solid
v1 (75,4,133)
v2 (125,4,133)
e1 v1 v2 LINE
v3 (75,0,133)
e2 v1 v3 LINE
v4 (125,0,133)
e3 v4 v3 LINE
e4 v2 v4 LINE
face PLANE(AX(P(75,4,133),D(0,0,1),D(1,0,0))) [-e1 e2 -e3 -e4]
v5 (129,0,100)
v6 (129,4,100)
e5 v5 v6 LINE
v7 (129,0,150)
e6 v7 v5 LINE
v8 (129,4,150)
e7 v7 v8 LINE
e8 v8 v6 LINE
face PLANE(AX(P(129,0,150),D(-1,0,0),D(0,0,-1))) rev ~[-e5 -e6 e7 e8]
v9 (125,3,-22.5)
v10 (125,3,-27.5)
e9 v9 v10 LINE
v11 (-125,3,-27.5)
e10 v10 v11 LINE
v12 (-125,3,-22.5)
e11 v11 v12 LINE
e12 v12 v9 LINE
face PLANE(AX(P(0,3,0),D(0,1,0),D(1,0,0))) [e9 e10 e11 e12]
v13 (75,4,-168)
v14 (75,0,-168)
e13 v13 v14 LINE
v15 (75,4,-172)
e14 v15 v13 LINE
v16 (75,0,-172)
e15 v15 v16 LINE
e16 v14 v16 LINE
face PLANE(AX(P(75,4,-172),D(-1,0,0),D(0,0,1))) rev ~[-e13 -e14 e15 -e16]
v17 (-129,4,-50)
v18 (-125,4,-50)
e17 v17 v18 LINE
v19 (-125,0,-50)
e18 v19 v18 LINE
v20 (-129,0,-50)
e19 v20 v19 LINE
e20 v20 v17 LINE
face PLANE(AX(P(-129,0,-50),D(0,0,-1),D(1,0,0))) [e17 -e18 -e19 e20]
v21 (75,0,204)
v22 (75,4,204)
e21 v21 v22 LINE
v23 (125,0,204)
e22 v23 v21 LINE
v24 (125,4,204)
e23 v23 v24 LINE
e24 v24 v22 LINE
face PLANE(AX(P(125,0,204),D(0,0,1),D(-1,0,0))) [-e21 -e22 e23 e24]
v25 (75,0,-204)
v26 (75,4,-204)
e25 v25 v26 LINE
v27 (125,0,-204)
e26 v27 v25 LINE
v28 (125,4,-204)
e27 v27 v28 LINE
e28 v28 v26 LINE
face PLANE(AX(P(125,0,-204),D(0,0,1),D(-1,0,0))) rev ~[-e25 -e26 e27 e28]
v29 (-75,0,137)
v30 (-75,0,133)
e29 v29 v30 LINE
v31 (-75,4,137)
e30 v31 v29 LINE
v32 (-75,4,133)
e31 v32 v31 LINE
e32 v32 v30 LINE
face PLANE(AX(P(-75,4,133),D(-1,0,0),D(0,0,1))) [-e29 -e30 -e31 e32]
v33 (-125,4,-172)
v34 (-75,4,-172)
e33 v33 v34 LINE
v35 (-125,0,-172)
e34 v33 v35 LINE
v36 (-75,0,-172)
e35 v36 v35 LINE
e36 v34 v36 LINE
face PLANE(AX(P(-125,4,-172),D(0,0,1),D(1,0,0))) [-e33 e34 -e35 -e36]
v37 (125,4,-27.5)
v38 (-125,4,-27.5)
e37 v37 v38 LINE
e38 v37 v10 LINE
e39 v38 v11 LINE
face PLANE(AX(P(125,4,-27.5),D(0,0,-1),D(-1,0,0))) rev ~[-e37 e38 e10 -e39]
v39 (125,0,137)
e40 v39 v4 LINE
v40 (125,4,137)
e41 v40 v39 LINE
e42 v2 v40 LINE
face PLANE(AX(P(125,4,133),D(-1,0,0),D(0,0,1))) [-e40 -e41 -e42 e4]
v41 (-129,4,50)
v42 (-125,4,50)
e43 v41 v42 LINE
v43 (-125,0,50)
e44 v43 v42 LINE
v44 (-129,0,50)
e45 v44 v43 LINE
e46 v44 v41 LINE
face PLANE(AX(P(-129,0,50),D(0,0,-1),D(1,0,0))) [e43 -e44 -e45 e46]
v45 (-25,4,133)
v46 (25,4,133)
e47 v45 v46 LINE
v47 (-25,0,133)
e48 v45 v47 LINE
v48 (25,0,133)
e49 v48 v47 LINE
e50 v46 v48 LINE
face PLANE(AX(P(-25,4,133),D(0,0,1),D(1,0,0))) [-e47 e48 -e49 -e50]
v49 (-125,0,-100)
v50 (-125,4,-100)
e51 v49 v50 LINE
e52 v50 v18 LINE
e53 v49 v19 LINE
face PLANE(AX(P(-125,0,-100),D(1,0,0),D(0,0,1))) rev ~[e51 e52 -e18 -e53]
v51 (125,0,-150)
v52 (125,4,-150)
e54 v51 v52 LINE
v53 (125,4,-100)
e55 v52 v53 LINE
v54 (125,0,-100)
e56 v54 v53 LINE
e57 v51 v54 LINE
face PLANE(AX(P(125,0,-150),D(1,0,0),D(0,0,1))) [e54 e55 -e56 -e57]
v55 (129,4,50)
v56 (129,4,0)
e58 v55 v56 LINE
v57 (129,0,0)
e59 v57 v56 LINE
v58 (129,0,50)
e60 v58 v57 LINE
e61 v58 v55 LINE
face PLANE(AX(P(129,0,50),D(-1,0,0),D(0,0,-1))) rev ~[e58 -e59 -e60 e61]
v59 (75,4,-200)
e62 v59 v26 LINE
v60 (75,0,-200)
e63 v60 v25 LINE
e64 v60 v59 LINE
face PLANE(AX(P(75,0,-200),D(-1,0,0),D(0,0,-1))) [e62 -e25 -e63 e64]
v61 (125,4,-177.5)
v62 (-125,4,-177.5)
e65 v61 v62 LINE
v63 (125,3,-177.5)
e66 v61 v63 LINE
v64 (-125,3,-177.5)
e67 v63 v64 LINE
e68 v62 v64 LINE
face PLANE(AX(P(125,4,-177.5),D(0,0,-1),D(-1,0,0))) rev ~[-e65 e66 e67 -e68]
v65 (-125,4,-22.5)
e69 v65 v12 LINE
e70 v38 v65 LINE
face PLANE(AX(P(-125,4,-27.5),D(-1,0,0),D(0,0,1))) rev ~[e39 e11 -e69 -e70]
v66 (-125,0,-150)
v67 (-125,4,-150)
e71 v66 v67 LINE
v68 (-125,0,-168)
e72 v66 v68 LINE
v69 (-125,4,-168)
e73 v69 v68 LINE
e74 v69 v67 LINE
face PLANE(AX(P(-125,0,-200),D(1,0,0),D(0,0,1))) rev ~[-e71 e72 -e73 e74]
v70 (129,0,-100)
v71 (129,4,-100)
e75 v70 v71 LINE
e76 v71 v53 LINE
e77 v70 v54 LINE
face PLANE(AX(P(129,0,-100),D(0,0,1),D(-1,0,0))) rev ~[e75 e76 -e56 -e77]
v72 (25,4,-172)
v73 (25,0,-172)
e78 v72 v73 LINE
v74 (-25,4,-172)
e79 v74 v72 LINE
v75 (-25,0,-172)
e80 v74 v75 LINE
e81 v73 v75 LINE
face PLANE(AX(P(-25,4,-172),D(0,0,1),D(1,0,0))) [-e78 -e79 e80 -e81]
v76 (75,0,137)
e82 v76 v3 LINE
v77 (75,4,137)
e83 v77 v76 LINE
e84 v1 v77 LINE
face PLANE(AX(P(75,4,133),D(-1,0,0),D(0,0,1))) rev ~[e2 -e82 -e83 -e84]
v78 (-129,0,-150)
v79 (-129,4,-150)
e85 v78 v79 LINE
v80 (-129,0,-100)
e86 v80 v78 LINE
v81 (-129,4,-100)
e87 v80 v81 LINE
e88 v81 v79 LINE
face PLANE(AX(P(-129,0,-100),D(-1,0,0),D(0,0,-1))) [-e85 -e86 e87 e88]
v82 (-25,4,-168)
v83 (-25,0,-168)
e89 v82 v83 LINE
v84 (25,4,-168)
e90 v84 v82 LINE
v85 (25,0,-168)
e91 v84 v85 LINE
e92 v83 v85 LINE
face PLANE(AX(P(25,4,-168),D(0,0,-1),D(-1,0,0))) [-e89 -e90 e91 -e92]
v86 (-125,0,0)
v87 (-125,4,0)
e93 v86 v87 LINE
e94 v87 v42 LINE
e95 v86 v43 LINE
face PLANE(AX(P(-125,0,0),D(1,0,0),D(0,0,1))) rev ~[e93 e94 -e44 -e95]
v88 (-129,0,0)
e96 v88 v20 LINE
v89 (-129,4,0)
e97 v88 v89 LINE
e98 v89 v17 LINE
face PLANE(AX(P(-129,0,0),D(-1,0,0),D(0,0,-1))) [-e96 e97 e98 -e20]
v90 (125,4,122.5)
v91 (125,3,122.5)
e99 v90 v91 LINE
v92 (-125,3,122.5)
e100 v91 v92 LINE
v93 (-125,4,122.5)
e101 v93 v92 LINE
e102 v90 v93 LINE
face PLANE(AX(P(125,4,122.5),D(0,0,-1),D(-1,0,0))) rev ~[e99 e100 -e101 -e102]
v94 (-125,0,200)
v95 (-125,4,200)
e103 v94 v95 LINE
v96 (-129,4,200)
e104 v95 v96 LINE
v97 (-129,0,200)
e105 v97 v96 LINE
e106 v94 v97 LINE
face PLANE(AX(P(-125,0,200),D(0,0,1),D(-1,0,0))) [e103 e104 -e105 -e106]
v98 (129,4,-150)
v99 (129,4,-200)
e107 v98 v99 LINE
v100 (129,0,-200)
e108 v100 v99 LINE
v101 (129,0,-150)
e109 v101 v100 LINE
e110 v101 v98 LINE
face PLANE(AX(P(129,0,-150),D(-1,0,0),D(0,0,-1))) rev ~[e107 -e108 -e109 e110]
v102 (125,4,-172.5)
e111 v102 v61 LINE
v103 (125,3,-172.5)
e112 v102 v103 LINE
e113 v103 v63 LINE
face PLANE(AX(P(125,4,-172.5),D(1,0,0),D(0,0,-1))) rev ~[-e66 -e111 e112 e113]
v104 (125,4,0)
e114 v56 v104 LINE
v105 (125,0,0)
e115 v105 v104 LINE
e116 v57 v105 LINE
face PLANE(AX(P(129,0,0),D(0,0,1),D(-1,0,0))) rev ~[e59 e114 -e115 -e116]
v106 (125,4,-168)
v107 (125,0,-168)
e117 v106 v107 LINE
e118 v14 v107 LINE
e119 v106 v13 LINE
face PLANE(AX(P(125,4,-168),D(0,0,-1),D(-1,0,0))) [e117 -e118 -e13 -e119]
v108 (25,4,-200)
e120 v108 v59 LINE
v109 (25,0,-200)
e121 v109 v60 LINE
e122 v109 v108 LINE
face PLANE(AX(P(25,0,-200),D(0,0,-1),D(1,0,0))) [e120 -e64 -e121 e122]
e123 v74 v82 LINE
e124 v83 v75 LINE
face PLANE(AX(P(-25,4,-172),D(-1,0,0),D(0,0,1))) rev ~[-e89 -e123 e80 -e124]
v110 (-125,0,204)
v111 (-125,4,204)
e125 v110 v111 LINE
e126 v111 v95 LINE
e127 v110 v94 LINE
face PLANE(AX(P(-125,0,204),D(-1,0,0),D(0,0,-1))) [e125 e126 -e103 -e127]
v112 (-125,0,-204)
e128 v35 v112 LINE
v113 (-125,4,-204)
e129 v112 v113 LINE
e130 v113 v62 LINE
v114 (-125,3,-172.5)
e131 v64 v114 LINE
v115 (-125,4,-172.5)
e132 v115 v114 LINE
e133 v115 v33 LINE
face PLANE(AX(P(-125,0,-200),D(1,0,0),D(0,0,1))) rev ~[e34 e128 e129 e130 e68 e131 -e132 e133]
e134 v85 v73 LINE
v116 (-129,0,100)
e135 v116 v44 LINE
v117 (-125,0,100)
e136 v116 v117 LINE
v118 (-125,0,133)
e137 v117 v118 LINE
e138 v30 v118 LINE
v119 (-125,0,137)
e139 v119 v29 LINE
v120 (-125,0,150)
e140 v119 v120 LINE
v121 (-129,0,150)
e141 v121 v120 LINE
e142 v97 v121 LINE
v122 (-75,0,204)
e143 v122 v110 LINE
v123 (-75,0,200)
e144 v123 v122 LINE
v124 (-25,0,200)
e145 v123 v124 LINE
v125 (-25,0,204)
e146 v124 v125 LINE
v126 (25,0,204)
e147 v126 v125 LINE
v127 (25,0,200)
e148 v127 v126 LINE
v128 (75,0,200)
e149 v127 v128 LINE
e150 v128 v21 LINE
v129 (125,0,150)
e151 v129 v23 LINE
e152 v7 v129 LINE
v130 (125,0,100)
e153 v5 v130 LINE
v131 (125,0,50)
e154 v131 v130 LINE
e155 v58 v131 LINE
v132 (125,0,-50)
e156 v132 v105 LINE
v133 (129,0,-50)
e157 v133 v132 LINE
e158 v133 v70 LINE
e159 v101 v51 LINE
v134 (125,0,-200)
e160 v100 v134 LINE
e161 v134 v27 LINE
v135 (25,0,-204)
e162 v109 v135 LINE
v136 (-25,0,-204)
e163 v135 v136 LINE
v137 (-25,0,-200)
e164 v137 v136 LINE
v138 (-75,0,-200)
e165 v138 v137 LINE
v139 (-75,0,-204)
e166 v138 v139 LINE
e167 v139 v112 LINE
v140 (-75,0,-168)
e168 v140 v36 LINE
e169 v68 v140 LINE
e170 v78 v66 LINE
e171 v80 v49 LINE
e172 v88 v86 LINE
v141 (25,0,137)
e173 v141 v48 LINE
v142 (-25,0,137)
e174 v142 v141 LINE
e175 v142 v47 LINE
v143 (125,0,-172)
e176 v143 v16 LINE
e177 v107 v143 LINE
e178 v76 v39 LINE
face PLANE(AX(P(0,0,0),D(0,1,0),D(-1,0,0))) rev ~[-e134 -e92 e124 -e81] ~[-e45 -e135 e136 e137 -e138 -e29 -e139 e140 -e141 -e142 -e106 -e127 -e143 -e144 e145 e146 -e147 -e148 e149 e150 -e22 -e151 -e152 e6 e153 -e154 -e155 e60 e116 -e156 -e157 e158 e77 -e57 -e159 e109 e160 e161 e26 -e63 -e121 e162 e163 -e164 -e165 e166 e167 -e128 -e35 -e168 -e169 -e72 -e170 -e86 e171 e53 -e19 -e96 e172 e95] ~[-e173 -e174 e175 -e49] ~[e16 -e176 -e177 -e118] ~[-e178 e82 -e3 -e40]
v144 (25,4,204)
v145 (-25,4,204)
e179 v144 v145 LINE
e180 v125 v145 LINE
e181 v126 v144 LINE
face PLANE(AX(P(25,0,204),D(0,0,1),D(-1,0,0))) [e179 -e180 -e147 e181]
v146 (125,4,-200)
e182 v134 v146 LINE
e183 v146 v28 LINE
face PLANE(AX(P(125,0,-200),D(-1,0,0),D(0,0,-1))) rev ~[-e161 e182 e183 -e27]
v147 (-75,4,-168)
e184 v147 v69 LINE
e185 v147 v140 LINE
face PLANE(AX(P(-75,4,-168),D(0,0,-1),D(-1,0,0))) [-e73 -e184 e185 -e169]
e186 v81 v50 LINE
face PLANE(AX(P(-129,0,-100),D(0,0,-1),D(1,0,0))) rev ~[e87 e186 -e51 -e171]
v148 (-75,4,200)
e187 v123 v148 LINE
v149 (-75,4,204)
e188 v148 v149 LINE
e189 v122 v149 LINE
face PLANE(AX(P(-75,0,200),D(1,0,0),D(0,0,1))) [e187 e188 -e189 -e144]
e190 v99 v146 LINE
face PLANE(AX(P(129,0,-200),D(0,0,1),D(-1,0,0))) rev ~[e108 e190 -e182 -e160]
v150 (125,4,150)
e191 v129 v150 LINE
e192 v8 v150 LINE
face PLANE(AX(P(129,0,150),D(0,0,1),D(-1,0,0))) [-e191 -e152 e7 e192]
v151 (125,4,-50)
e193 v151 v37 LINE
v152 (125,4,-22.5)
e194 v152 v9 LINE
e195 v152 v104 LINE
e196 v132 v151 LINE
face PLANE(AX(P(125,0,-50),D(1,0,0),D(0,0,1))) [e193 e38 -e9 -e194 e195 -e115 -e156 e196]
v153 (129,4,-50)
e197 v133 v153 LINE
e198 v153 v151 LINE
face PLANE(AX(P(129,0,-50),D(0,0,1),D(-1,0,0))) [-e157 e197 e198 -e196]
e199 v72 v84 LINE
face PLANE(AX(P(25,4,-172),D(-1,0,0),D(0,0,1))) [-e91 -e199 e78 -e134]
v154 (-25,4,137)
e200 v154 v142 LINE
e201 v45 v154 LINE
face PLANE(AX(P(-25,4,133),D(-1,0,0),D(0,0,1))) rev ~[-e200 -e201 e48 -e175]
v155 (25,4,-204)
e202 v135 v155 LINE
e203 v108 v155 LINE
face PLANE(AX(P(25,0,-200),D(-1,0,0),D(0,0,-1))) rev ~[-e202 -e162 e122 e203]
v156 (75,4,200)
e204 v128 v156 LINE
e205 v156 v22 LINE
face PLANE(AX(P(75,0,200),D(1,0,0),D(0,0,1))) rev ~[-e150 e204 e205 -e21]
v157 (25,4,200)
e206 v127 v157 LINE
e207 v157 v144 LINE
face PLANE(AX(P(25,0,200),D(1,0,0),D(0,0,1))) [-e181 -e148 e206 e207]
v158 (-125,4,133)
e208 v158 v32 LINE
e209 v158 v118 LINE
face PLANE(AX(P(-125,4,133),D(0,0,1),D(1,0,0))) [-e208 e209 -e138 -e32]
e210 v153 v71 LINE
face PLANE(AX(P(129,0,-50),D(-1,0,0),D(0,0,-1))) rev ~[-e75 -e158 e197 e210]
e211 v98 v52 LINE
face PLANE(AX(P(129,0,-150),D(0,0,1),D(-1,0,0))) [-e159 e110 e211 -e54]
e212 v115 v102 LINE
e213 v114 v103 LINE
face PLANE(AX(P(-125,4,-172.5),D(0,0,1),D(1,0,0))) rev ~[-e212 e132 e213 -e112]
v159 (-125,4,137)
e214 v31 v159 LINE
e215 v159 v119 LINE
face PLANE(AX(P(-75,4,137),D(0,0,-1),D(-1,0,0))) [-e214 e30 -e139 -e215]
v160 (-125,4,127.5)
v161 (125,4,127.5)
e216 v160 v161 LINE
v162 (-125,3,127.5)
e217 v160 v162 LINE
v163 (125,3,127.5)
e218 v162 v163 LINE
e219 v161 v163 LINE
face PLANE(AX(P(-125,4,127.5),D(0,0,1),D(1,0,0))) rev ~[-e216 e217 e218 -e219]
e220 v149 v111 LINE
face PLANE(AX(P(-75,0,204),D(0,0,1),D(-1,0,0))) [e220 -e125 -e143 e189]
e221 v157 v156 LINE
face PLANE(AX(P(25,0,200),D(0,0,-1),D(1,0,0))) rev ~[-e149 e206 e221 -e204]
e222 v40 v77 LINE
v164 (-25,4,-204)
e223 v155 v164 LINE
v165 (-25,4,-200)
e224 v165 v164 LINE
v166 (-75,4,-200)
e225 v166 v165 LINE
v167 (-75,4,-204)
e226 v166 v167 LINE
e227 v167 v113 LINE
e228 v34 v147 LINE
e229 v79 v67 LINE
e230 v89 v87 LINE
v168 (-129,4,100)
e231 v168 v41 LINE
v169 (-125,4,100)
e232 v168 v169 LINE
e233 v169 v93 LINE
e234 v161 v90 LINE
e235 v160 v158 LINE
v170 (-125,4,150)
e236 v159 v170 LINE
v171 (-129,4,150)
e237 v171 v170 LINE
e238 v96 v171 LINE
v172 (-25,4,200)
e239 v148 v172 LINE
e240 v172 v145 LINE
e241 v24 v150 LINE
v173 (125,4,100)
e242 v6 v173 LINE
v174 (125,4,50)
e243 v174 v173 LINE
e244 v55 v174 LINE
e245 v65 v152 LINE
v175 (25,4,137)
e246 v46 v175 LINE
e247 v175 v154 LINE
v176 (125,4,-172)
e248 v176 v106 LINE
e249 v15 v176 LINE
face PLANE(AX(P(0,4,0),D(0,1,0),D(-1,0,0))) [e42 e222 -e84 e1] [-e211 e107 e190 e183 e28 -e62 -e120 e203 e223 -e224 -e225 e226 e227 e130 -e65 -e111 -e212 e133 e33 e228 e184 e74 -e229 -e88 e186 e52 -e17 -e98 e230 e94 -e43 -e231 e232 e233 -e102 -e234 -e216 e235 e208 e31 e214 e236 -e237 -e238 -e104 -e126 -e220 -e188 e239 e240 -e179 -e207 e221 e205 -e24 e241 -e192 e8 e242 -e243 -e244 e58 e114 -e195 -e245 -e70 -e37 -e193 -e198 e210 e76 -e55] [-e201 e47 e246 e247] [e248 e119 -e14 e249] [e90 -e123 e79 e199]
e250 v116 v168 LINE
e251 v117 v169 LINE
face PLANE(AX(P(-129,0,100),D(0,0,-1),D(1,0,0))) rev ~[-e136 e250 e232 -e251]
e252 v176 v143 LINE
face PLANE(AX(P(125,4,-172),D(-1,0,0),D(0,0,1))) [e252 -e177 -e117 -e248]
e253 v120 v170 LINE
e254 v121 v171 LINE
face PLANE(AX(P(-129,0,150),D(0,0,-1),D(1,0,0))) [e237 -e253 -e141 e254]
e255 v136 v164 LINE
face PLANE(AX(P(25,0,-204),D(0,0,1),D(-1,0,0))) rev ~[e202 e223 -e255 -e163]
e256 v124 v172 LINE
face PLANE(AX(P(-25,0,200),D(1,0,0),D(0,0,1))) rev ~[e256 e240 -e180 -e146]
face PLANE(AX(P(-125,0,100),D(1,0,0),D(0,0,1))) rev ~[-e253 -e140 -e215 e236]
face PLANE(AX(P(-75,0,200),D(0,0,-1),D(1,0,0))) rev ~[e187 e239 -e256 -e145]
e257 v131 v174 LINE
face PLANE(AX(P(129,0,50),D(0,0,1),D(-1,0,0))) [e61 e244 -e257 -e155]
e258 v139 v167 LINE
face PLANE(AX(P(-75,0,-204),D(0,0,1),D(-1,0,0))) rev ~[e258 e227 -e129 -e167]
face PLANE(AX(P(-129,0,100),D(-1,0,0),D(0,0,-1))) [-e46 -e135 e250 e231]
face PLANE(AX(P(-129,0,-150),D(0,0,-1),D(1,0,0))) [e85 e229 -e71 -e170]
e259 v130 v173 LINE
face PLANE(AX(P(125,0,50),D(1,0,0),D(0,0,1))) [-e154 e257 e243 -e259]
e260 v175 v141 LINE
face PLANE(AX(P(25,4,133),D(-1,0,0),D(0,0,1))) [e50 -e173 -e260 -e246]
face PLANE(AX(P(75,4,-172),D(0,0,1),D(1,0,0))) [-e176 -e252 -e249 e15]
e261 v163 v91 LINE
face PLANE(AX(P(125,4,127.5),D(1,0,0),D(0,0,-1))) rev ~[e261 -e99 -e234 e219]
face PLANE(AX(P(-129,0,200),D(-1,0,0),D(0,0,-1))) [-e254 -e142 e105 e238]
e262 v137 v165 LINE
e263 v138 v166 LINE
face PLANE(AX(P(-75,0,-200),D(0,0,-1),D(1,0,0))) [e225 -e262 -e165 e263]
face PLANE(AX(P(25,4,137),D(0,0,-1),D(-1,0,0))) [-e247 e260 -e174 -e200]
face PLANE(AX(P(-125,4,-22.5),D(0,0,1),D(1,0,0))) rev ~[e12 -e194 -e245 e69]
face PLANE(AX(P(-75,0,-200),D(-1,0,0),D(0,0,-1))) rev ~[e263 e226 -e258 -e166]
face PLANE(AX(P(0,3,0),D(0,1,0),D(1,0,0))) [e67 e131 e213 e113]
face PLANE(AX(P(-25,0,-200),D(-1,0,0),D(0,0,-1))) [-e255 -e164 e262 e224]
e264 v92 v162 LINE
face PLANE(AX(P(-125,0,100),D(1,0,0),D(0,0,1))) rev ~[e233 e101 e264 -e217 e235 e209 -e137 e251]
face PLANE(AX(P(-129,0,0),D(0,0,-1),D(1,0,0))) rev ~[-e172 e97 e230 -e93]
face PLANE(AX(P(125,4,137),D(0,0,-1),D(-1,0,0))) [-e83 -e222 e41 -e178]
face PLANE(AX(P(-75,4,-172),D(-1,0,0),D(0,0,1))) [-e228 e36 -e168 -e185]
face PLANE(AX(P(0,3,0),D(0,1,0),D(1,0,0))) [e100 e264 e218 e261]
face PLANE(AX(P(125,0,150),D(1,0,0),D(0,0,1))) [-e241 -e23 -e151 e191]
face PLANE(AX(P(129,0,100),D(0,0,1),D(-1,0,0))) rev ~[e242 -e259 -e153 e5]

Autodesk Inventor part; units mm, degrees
ref_plane "YZ Plane" through (0, 0, 0) normal (1, 0, 0) x (0, 1, 0)
ref_plane "XZ Plane" through (0, 0, 0) normal (0, 1, 0) x (-1, 0, 0)
ref_plane "XY Plane" through (0, 0, 0) normal (0, 0, 1) x (1, 0, 0)
sketch "Sketch1" plane through (0, 0, 0) normal (0, 1, 0) x (-1, 0, 0)
  line L0 (-125, 200) -> (125, 200) construction
  line L1 (125, 200) -> (125, -200) construction
  line L2 (125, -200) -> (-125, -200) construction
  line L3 (-125, -200) -> (-125, 200) construction
  line L4 (-125, 200) -> (125, -200) construction
  line L5 (125, 200) -> (-125, -200) construction
  line L6 (125, 200) -> (75, 200) construction
  line L7 (75, 200) -> (75, 204)
  line L8 (75, 204) -> (125, 204)
  line L9 (125, 204) -> (125, 200)
  line L10 (125, 200) -> (129, 200)
  line L11 (129, 200) -> (129, 150)
  line L12 (129, 150) -> (125, 150)
  line L13 (125, 150) -> (125, 200) construction
  line L14 (-125, 200) -> (-129, 200) construction
  line L15 (-129, 200) -> (-129, 150) construction
  line L16 (-129, 150) -> (-125, 150)
  line L17 (-125, 150) -> (-125, 200)
  line L18 (125, -200) -> (75, -200) construction
  line L19 (75, -200) -> (75, -204)
  line L20 (75, -204) -> (125, -204)
  line L21 (125, -204) -> (125, -200)
  line L22 (125, 100) -> (125, 150)
  line L23 (125, 150) -> (129, 150)
  line L24 (129, 100) -> (125, 100)
  line L25 (129, 150) -> (129, 100) construction
  line L26 (-125, 100) -> (-125, 150) construction
  line L27 (-125, 150) -> (-129, 150)
  line L28 (-129, 150) -> (-129, 100)
  line L29 (-129, 100) -> (-125, 100)
  line L30 (125, 50) -> (125, 100) construction
  line L31 (125, 100) -> (129, 100)
  line L32 (129, 50) -> (125, 50)
  line L33 (129, 100) -> (129, 50)
  line L34 (-125, 50) -> (-125, 100)
  line L35 (-125, 100) -> (-129, 100)
  line L36 (-129, 100) -> (-129, 50) construction
  line L37 (-129, 50) -> (-125, 50)
  line L38 (125, 0) -> (125, 50)
  line L39 (125, 50) -> (129, 50)
  line L40 (129, 0) -> (125, 0)
  line L41 (129, 50) -> (129, 0) construction
  line L42 (-125, 0) -> (-125, 50) construction
  line L43 (-125, 50) -> (-129, 50)
  line L44 (-129, 50) -> (-129, 0)
  line L45 (-129, 0) -> (-125, 0)
  line L46 (125, -50) -> (125, 0) construction
  line L47 (125, 0) -> (129, 0)
  line L48 (129, -50) -> (125, -50)
  line L49 (129, 0) -> (129, -50)
  line L50 (-125, -50) -> (-125, 0)
  line L51 (-125, 0) -> (-129, 0)
  line L52 (-129, 0) -> (-129, -50) construction
  line L53 (-129, -50) -> (-125, -50)
  line L54 (125, -100) -> (125, -50)
  line L55 (125, -50) -> (129, -50)
  line L56 (129, -100) -> (125, -100)
  line L57 (129, -50) -> (129, -100) construction
  line L58 (-125, -100) -> (-125, -50) construction
  line L59 (-125, -50) -> (-129, -50)
  line L60 (-129, -50) -> (-129, -100)
  line L61 (-129, -100) -> (-125, -100)
  line L62 (125, -150) -> (125, -100) construction
  line L63 (125, -100) -> (129, -100)
  line L64 (129, -150) -> (125, -150)
  line L65 (129, -100) -> (129, -150)
  line L66 (-125, -150) -> (-125, -100)
  line L67 (-125, -100) -> (-129, -100)
  line L68 (-129, -100) -> (-129, -150) construction
  line L69 (-129, -150) -> (-125, -150)
  line L70 (125, -200) -> (125, -150)
  line L71 (125, -150) -> (129, -150)
  line L72 (129, -200) -> (125, -200) construction
  line L73 (129, -150) -> (129, -200) construction
  line L74 (-125, -200) -> (-125, -150) construction
  line L75 (-125, -150) -> (-129, -150)
  line L76 (-129, -150) -> (-129, -200)
  line L77 (-129, -200) -> (-125, -200)
  line L78 (75, 204) -> (75, 200)
  line L79 (25, 200) -> (25, 204)
  line L80 (25, 204) -> (75, 204) construction
  line L81 (75, 200) -> (25, 200)
  line L82 (75, -200) -> (25, -200)
  line L83 (25, -200) -> (25, -204)
  line L84 (25, -204) -> (75, -204) construction
  line L85 (75, -204) -> (75, -200)
  line L86 (25, 204) -> (25, 200)
  line L87 (-25, 200) -> (-25, 204)
  line L88 (-25, 204) -> (25, 204)
  line L89 (25, 200) -> (-25, 200) construction
  line L90 (25, -200) -> (-25, -200) construction
  line L91 (-25, -200) -> (-25, -204)
  line L92 (-25, -204) -> (25, -204)
  line L93 (25, -204) -> (25, -200)
  line L94 (-25, 204) -> (-25, 200)
  line L95 (-75, 200) -> (-75, 204)
  line L96 (-75, 204) -> (-25, 204) construction
  line L97 (-25, 200) -> (-75, 200)
  line L98 (-25, -200) -> (-75, -200)
  line L99 (-75, -200) -> (-75, -204)
  line L100 (-75, -204) -> (-25, -204) construction
  line L101 (-25, -204) -> (-25, -200)
  line L102 (-75, 204) -> (-75, 200)
  line L103 (-125, 200) -> (-125, 204)
  line L104 (-125, 204) -> (-75, 204)
  line L105 (-75, 200) -> (-125, 200) construction
  line L106 (-75, -200) -> (-125, -200) construction
  line L107 (-125, -200) -> (-125, -204)
  line L108 (-125, -204) -> (-75, -204)
  line L109 (-75, -204) -> (-75, -200)
  point P0 (0, 0)
  dimension "d0" = 250
  dimension "d1" = 400
  dimension "d2" = 50
  dimension "d3" = 4
  dimension "d4" = 4
  dimension "d5" = 50
  dimension "d6" = 4
  dimension "d7" = 50
  dimension "d8" = 50
  dimension "d9" = 4
  dimension "d12" = 50
  dimension "d19" = 50
extrude "Extrusion1" add sketch "Sketch1" along normal blind 4
sketch "Sketch3" plane through (0, 4, 0) normal (0, 1, 0) x (1, 0, 0)
  line L0 (-129, 50) -> (-129, 0) projected
  line L1 (-129, 25) -> (125, 25) construction
  line L2 (125, 0) -> (125, 50) projected
  line L3 (-129, 22.5) -> (125, 22.5)
  line L4 (125, 22.5) -> (125, 27.5)
  line L5 (125, 27.5) -> (-129, 27.5)
  line L6 (-129, 27.5) -> (-129, 22.5)
  line L7 (-129, 27.5) -> (-125, 27.5)
  line L8 (-125, 27.5) -> (-125, 22.5)
  line L9 (-125, 22.5) -> (-129, 22.5)
  line L10 (-129, 22.5) -> (-129, 27.5)
  line L11 (-25, -200) -> (-25, -204) projected
  line L12 (-25, -204) -> (25, -204) projected
  line L13 (25, -204) -> (25, -200) projected
  line L14 (25, -200) -> (75, -200) projected
  line L15 (75, -200) -> (75, -204) projected
  line L16 (75, -204) -> (125, -204) projected
  line L17 (125, -204) -> (125, -150) projected
  line L18 (125, -150) -> (129, -150) projected
  line L19 (129, -150) -> (129, -100) projected
  line L20 (129, -100) -> (125, -100) projected
  line L21 (125, -100) -> (125, -50) projected
  line L22 (125, -50) -> (129, -50) projected
  line L23 (129, -50) -> (129, 0) projected
  line L24 (129, 0) -> (125, 0) projected
  line L25 (125, 0) -> (125, 50) projected
  line L26 (125, 50) -> (129, 50) projected
  line L27 (129, 50) -> (129, 100) projected
  line L28 (129, 100) -> (125, 100) projected
  line L29 (125, 100) -> (125, 150) projected
  line L30 (125, 150) -> (129, 150) projected
  line L31 (129, 150) -> (129, 200) projected
  line L32 (129, 200) -> (125, 200) projected
  line L33 (125, 200) -> (125, 204) projected
  line L34 (125, 204) -> (75, 204) projected
  line L35 (75, 204) -> (75, 200) projected
  line L36 (75, 200) -> (25, 200) projected
  line L37 (25, 200) -> (25, 204) projected
  line L38 (25, 204) -> (-25, 204) projected
  line L39 (-25, 204) -> (-25, 200) projected
  line L40 (-25, 200) -> (-75, 200) projected
  line L41 (-75, 200) -> (-75, 204) projected
  line L42 (-75, 204) -> (-125, 204) projected
  line L43 (-125, 204) -> (-125, 150) projected
  line L44 (-125, 150) -> (-129, 150) projected
  line L45 (-129, 150) -> (-129, 100) projected
  line L46 (-129, 100) -> (-125, 100) projected
  line L47 (-125, 100) -> (-125, 50) projected
  line L48 (-125, 50) -> (-129, 50) projected
  line L49 (-129, 50) -> (-129, 0) projected
  line L50 (-129, 0) -> (-125, 0) projected
  line L51 (-125, 0) -> (-125, -50) projected
  line L52 (-125, -50) -> (-129, -50) projected
  line L53 (-129, -50) -> (-129, -100) projected
  line L54 (-129, -100) -> (-125, -100) projected
  line L55 (-125, -100) -> (-125, -150) projected
  line L56 (-125, -150) -> (-129, -150) projected
  line L57 (-129, -150) -> (-129, -200) projected
  line L58 (-129, -200) -> (-125, -200) projected
  line L59 (-125, -200) -> (-125, -204) projected
  line L60 (-125, -204) -> (-75, -204) projected
  line L61 (-75, -204) -> (-75, -200) projected
  line L62 (-75, -200) -> (-25, -200) projected
  line L63 (-125, -100) -> (-125, -150) projected
  line L64 (-125, -125) -> (129, -125) construction
  line L65 (129, -150) -> (129, -100) projected
  line L66 (-125, -127.5) -> (125, -127.5)
  line L67 (125, -127.5) -> (125, -122.5)
  line L68 (125, -122.5) -> (-125, -122.5)
  line L69 (-125, -122.5) -> (-125, -127.5)
  line L70 (-125, -127.5) -> (125, -122.5) construction
  line L71 (125, -127.5) -> (-125, -122.5) construction
  line L72 (125, 0) -> (125, 50) projected
  line L73 (-125, 0) -> (-125, -50) projected
  line L74 (129, 150) -> (129, 200) projected
  line L75 (129, 175) -> (-125, 175) construction
  line L76 (-125, 172.5) -> (125, 172.5)
  line L77 (125, 172.5) -> (125, 177.5)
  line L78 (125, 177.5) -> (-125, 177.5)
  line L79 (-125, 177.5) -> (-125, 172.5)
  line L80 (-125, 172.5) -> (125, 177.5) construction
  line L81 (125, 172.5) -> (-125, 177.5) construction
  line L82 (-125, 204) -> (-125, 150) projected
  line L83 (125, 100) -> (125, 150) projected
  point P0 (0, 0)
  point P1 (-125, 27.5)
  point P2 (-125, 22.5)
  point P3 (0, -125)
  point P4 (0, 175)
  dimension "d30" = 5
  dimension "d34" = 5
  dimension "d35" = 5
  dimension "d36" = 5
extrude "Extrusion2" cut sketch "Sketch3" against normal blind 1 contours L5 L2 L3 L8 | L43 L78 L77 L76 | L68 L67 L66 L55
sketch "Sketch4" plane through (0, 4, 0) normal (0, 1, 0) x (1, 0, 0)
  line L0 (-125, -133) -> (-75, -133)
  line L1 (-75, -133) -> (-75, -137)
  line L2 (-75, -137) -> (-125, -137)
  line L3 (-125, -137) -> (-125, -133)
  line L4 (-75, -200) -> (-25, -200) projected
  line L5 (125, -127.5) -> (-125, -127.5) projected
  line L6 (-75, -133) -> (-25, -133)
  line L7 (-25, -133) -> (-25, -137)
  line L8 (-25, -137) -> (-75, -137)
  line L9 (-75, -137) -> (-75, -133)
  line L10 (-25, -133) -> (25, -133)
  line L11 (25, -133) -> (25, -137)
  line L12 (25, -137) -> (-25, -137)
  line L13 (-25, -137) -> (-25, -133)
  line L14 (25, -133) -> (75, -133)
  line L15 (75, -133) -> (75, -137)
  line L16 (75, -137) -> (25, -137)
  line L17 (25, -137) -> (25, -133)
  line L18 (75, -133) -> (125, -133)
  line L19 (125, -133) -> (125, -137)
  line L20 (125, -137) -> (75, -137)
  line L21 (75, -137) -> (75, -133)
  line L22 (-125, 0) -> (-125, -50) projected
  line L23 (-125, 172) -> (-75, 172)
  line L24 (-75, 172) -> (-75, 168)
  line L25 (-75, 168) -> (-125, 168)
  line L26 (-125, 168) -> (-125, 172)
  line L27 (-75, 172) -> (-25, 172)
  line L28 (-25, 172) -> (-25, 168)
  line L29 (-25, 168) -> (-25, 172)
  line L30 (-25, 168) -> (-75, 168)
  line L31 (-75, 168) -> (-75, 172)
  line L32 (-25, 172) -> (25, 172)
  line L33 (25, 168) -> (-25, 168)
  line L34 (25, 172) -> (25, 168)
  line L35 (25, 168) -> (25, 172)
  line L36 (25, 172) -> (75, 172)
  line L37 (75, 172) -> (75, 168)
  line L38 (75, 168) -> (75, 172)
  line L39 (75, 172) -> (125, 172)
  line L40 (125, 172) -> (125, 168)
  line L41 (125, 168) -> (75, 168)
  line L42 (75, 168) -> (25, 168)
  point P0 (0, 0)
  point P1 (-125, -135)
  point P2 (-125, -122.5)
  point P3 (-75, -135)
  point P4 (-25, -135)
  point P5 (25, -135)
  point P6 (75, -135)
  point P7 (75, -133)
  point P8 (-25, -133)
  point P9 (-125, 170)
  point P10 (-25, 170)
  point P11 (-75, 170)
  point P12 (25, 170)
  point P13 (75, 170)
  dimension "d37" = 50
  dimension "d38" = 4
  dimension "d39" = 63
  dimension "d42" = 50
  dimension "d51" = 305
extrude "Extrusion3" cut sketch "Sketch4" against normal up to next contours L0 L1 L2 L3 | L10 L11 L12 L7 | L18 L19 L20 L15 | L23 L24 L25 L26 | L32 L34 L33 L28 | L39 L40 L41 L37
properties part number "Wall_V1"
